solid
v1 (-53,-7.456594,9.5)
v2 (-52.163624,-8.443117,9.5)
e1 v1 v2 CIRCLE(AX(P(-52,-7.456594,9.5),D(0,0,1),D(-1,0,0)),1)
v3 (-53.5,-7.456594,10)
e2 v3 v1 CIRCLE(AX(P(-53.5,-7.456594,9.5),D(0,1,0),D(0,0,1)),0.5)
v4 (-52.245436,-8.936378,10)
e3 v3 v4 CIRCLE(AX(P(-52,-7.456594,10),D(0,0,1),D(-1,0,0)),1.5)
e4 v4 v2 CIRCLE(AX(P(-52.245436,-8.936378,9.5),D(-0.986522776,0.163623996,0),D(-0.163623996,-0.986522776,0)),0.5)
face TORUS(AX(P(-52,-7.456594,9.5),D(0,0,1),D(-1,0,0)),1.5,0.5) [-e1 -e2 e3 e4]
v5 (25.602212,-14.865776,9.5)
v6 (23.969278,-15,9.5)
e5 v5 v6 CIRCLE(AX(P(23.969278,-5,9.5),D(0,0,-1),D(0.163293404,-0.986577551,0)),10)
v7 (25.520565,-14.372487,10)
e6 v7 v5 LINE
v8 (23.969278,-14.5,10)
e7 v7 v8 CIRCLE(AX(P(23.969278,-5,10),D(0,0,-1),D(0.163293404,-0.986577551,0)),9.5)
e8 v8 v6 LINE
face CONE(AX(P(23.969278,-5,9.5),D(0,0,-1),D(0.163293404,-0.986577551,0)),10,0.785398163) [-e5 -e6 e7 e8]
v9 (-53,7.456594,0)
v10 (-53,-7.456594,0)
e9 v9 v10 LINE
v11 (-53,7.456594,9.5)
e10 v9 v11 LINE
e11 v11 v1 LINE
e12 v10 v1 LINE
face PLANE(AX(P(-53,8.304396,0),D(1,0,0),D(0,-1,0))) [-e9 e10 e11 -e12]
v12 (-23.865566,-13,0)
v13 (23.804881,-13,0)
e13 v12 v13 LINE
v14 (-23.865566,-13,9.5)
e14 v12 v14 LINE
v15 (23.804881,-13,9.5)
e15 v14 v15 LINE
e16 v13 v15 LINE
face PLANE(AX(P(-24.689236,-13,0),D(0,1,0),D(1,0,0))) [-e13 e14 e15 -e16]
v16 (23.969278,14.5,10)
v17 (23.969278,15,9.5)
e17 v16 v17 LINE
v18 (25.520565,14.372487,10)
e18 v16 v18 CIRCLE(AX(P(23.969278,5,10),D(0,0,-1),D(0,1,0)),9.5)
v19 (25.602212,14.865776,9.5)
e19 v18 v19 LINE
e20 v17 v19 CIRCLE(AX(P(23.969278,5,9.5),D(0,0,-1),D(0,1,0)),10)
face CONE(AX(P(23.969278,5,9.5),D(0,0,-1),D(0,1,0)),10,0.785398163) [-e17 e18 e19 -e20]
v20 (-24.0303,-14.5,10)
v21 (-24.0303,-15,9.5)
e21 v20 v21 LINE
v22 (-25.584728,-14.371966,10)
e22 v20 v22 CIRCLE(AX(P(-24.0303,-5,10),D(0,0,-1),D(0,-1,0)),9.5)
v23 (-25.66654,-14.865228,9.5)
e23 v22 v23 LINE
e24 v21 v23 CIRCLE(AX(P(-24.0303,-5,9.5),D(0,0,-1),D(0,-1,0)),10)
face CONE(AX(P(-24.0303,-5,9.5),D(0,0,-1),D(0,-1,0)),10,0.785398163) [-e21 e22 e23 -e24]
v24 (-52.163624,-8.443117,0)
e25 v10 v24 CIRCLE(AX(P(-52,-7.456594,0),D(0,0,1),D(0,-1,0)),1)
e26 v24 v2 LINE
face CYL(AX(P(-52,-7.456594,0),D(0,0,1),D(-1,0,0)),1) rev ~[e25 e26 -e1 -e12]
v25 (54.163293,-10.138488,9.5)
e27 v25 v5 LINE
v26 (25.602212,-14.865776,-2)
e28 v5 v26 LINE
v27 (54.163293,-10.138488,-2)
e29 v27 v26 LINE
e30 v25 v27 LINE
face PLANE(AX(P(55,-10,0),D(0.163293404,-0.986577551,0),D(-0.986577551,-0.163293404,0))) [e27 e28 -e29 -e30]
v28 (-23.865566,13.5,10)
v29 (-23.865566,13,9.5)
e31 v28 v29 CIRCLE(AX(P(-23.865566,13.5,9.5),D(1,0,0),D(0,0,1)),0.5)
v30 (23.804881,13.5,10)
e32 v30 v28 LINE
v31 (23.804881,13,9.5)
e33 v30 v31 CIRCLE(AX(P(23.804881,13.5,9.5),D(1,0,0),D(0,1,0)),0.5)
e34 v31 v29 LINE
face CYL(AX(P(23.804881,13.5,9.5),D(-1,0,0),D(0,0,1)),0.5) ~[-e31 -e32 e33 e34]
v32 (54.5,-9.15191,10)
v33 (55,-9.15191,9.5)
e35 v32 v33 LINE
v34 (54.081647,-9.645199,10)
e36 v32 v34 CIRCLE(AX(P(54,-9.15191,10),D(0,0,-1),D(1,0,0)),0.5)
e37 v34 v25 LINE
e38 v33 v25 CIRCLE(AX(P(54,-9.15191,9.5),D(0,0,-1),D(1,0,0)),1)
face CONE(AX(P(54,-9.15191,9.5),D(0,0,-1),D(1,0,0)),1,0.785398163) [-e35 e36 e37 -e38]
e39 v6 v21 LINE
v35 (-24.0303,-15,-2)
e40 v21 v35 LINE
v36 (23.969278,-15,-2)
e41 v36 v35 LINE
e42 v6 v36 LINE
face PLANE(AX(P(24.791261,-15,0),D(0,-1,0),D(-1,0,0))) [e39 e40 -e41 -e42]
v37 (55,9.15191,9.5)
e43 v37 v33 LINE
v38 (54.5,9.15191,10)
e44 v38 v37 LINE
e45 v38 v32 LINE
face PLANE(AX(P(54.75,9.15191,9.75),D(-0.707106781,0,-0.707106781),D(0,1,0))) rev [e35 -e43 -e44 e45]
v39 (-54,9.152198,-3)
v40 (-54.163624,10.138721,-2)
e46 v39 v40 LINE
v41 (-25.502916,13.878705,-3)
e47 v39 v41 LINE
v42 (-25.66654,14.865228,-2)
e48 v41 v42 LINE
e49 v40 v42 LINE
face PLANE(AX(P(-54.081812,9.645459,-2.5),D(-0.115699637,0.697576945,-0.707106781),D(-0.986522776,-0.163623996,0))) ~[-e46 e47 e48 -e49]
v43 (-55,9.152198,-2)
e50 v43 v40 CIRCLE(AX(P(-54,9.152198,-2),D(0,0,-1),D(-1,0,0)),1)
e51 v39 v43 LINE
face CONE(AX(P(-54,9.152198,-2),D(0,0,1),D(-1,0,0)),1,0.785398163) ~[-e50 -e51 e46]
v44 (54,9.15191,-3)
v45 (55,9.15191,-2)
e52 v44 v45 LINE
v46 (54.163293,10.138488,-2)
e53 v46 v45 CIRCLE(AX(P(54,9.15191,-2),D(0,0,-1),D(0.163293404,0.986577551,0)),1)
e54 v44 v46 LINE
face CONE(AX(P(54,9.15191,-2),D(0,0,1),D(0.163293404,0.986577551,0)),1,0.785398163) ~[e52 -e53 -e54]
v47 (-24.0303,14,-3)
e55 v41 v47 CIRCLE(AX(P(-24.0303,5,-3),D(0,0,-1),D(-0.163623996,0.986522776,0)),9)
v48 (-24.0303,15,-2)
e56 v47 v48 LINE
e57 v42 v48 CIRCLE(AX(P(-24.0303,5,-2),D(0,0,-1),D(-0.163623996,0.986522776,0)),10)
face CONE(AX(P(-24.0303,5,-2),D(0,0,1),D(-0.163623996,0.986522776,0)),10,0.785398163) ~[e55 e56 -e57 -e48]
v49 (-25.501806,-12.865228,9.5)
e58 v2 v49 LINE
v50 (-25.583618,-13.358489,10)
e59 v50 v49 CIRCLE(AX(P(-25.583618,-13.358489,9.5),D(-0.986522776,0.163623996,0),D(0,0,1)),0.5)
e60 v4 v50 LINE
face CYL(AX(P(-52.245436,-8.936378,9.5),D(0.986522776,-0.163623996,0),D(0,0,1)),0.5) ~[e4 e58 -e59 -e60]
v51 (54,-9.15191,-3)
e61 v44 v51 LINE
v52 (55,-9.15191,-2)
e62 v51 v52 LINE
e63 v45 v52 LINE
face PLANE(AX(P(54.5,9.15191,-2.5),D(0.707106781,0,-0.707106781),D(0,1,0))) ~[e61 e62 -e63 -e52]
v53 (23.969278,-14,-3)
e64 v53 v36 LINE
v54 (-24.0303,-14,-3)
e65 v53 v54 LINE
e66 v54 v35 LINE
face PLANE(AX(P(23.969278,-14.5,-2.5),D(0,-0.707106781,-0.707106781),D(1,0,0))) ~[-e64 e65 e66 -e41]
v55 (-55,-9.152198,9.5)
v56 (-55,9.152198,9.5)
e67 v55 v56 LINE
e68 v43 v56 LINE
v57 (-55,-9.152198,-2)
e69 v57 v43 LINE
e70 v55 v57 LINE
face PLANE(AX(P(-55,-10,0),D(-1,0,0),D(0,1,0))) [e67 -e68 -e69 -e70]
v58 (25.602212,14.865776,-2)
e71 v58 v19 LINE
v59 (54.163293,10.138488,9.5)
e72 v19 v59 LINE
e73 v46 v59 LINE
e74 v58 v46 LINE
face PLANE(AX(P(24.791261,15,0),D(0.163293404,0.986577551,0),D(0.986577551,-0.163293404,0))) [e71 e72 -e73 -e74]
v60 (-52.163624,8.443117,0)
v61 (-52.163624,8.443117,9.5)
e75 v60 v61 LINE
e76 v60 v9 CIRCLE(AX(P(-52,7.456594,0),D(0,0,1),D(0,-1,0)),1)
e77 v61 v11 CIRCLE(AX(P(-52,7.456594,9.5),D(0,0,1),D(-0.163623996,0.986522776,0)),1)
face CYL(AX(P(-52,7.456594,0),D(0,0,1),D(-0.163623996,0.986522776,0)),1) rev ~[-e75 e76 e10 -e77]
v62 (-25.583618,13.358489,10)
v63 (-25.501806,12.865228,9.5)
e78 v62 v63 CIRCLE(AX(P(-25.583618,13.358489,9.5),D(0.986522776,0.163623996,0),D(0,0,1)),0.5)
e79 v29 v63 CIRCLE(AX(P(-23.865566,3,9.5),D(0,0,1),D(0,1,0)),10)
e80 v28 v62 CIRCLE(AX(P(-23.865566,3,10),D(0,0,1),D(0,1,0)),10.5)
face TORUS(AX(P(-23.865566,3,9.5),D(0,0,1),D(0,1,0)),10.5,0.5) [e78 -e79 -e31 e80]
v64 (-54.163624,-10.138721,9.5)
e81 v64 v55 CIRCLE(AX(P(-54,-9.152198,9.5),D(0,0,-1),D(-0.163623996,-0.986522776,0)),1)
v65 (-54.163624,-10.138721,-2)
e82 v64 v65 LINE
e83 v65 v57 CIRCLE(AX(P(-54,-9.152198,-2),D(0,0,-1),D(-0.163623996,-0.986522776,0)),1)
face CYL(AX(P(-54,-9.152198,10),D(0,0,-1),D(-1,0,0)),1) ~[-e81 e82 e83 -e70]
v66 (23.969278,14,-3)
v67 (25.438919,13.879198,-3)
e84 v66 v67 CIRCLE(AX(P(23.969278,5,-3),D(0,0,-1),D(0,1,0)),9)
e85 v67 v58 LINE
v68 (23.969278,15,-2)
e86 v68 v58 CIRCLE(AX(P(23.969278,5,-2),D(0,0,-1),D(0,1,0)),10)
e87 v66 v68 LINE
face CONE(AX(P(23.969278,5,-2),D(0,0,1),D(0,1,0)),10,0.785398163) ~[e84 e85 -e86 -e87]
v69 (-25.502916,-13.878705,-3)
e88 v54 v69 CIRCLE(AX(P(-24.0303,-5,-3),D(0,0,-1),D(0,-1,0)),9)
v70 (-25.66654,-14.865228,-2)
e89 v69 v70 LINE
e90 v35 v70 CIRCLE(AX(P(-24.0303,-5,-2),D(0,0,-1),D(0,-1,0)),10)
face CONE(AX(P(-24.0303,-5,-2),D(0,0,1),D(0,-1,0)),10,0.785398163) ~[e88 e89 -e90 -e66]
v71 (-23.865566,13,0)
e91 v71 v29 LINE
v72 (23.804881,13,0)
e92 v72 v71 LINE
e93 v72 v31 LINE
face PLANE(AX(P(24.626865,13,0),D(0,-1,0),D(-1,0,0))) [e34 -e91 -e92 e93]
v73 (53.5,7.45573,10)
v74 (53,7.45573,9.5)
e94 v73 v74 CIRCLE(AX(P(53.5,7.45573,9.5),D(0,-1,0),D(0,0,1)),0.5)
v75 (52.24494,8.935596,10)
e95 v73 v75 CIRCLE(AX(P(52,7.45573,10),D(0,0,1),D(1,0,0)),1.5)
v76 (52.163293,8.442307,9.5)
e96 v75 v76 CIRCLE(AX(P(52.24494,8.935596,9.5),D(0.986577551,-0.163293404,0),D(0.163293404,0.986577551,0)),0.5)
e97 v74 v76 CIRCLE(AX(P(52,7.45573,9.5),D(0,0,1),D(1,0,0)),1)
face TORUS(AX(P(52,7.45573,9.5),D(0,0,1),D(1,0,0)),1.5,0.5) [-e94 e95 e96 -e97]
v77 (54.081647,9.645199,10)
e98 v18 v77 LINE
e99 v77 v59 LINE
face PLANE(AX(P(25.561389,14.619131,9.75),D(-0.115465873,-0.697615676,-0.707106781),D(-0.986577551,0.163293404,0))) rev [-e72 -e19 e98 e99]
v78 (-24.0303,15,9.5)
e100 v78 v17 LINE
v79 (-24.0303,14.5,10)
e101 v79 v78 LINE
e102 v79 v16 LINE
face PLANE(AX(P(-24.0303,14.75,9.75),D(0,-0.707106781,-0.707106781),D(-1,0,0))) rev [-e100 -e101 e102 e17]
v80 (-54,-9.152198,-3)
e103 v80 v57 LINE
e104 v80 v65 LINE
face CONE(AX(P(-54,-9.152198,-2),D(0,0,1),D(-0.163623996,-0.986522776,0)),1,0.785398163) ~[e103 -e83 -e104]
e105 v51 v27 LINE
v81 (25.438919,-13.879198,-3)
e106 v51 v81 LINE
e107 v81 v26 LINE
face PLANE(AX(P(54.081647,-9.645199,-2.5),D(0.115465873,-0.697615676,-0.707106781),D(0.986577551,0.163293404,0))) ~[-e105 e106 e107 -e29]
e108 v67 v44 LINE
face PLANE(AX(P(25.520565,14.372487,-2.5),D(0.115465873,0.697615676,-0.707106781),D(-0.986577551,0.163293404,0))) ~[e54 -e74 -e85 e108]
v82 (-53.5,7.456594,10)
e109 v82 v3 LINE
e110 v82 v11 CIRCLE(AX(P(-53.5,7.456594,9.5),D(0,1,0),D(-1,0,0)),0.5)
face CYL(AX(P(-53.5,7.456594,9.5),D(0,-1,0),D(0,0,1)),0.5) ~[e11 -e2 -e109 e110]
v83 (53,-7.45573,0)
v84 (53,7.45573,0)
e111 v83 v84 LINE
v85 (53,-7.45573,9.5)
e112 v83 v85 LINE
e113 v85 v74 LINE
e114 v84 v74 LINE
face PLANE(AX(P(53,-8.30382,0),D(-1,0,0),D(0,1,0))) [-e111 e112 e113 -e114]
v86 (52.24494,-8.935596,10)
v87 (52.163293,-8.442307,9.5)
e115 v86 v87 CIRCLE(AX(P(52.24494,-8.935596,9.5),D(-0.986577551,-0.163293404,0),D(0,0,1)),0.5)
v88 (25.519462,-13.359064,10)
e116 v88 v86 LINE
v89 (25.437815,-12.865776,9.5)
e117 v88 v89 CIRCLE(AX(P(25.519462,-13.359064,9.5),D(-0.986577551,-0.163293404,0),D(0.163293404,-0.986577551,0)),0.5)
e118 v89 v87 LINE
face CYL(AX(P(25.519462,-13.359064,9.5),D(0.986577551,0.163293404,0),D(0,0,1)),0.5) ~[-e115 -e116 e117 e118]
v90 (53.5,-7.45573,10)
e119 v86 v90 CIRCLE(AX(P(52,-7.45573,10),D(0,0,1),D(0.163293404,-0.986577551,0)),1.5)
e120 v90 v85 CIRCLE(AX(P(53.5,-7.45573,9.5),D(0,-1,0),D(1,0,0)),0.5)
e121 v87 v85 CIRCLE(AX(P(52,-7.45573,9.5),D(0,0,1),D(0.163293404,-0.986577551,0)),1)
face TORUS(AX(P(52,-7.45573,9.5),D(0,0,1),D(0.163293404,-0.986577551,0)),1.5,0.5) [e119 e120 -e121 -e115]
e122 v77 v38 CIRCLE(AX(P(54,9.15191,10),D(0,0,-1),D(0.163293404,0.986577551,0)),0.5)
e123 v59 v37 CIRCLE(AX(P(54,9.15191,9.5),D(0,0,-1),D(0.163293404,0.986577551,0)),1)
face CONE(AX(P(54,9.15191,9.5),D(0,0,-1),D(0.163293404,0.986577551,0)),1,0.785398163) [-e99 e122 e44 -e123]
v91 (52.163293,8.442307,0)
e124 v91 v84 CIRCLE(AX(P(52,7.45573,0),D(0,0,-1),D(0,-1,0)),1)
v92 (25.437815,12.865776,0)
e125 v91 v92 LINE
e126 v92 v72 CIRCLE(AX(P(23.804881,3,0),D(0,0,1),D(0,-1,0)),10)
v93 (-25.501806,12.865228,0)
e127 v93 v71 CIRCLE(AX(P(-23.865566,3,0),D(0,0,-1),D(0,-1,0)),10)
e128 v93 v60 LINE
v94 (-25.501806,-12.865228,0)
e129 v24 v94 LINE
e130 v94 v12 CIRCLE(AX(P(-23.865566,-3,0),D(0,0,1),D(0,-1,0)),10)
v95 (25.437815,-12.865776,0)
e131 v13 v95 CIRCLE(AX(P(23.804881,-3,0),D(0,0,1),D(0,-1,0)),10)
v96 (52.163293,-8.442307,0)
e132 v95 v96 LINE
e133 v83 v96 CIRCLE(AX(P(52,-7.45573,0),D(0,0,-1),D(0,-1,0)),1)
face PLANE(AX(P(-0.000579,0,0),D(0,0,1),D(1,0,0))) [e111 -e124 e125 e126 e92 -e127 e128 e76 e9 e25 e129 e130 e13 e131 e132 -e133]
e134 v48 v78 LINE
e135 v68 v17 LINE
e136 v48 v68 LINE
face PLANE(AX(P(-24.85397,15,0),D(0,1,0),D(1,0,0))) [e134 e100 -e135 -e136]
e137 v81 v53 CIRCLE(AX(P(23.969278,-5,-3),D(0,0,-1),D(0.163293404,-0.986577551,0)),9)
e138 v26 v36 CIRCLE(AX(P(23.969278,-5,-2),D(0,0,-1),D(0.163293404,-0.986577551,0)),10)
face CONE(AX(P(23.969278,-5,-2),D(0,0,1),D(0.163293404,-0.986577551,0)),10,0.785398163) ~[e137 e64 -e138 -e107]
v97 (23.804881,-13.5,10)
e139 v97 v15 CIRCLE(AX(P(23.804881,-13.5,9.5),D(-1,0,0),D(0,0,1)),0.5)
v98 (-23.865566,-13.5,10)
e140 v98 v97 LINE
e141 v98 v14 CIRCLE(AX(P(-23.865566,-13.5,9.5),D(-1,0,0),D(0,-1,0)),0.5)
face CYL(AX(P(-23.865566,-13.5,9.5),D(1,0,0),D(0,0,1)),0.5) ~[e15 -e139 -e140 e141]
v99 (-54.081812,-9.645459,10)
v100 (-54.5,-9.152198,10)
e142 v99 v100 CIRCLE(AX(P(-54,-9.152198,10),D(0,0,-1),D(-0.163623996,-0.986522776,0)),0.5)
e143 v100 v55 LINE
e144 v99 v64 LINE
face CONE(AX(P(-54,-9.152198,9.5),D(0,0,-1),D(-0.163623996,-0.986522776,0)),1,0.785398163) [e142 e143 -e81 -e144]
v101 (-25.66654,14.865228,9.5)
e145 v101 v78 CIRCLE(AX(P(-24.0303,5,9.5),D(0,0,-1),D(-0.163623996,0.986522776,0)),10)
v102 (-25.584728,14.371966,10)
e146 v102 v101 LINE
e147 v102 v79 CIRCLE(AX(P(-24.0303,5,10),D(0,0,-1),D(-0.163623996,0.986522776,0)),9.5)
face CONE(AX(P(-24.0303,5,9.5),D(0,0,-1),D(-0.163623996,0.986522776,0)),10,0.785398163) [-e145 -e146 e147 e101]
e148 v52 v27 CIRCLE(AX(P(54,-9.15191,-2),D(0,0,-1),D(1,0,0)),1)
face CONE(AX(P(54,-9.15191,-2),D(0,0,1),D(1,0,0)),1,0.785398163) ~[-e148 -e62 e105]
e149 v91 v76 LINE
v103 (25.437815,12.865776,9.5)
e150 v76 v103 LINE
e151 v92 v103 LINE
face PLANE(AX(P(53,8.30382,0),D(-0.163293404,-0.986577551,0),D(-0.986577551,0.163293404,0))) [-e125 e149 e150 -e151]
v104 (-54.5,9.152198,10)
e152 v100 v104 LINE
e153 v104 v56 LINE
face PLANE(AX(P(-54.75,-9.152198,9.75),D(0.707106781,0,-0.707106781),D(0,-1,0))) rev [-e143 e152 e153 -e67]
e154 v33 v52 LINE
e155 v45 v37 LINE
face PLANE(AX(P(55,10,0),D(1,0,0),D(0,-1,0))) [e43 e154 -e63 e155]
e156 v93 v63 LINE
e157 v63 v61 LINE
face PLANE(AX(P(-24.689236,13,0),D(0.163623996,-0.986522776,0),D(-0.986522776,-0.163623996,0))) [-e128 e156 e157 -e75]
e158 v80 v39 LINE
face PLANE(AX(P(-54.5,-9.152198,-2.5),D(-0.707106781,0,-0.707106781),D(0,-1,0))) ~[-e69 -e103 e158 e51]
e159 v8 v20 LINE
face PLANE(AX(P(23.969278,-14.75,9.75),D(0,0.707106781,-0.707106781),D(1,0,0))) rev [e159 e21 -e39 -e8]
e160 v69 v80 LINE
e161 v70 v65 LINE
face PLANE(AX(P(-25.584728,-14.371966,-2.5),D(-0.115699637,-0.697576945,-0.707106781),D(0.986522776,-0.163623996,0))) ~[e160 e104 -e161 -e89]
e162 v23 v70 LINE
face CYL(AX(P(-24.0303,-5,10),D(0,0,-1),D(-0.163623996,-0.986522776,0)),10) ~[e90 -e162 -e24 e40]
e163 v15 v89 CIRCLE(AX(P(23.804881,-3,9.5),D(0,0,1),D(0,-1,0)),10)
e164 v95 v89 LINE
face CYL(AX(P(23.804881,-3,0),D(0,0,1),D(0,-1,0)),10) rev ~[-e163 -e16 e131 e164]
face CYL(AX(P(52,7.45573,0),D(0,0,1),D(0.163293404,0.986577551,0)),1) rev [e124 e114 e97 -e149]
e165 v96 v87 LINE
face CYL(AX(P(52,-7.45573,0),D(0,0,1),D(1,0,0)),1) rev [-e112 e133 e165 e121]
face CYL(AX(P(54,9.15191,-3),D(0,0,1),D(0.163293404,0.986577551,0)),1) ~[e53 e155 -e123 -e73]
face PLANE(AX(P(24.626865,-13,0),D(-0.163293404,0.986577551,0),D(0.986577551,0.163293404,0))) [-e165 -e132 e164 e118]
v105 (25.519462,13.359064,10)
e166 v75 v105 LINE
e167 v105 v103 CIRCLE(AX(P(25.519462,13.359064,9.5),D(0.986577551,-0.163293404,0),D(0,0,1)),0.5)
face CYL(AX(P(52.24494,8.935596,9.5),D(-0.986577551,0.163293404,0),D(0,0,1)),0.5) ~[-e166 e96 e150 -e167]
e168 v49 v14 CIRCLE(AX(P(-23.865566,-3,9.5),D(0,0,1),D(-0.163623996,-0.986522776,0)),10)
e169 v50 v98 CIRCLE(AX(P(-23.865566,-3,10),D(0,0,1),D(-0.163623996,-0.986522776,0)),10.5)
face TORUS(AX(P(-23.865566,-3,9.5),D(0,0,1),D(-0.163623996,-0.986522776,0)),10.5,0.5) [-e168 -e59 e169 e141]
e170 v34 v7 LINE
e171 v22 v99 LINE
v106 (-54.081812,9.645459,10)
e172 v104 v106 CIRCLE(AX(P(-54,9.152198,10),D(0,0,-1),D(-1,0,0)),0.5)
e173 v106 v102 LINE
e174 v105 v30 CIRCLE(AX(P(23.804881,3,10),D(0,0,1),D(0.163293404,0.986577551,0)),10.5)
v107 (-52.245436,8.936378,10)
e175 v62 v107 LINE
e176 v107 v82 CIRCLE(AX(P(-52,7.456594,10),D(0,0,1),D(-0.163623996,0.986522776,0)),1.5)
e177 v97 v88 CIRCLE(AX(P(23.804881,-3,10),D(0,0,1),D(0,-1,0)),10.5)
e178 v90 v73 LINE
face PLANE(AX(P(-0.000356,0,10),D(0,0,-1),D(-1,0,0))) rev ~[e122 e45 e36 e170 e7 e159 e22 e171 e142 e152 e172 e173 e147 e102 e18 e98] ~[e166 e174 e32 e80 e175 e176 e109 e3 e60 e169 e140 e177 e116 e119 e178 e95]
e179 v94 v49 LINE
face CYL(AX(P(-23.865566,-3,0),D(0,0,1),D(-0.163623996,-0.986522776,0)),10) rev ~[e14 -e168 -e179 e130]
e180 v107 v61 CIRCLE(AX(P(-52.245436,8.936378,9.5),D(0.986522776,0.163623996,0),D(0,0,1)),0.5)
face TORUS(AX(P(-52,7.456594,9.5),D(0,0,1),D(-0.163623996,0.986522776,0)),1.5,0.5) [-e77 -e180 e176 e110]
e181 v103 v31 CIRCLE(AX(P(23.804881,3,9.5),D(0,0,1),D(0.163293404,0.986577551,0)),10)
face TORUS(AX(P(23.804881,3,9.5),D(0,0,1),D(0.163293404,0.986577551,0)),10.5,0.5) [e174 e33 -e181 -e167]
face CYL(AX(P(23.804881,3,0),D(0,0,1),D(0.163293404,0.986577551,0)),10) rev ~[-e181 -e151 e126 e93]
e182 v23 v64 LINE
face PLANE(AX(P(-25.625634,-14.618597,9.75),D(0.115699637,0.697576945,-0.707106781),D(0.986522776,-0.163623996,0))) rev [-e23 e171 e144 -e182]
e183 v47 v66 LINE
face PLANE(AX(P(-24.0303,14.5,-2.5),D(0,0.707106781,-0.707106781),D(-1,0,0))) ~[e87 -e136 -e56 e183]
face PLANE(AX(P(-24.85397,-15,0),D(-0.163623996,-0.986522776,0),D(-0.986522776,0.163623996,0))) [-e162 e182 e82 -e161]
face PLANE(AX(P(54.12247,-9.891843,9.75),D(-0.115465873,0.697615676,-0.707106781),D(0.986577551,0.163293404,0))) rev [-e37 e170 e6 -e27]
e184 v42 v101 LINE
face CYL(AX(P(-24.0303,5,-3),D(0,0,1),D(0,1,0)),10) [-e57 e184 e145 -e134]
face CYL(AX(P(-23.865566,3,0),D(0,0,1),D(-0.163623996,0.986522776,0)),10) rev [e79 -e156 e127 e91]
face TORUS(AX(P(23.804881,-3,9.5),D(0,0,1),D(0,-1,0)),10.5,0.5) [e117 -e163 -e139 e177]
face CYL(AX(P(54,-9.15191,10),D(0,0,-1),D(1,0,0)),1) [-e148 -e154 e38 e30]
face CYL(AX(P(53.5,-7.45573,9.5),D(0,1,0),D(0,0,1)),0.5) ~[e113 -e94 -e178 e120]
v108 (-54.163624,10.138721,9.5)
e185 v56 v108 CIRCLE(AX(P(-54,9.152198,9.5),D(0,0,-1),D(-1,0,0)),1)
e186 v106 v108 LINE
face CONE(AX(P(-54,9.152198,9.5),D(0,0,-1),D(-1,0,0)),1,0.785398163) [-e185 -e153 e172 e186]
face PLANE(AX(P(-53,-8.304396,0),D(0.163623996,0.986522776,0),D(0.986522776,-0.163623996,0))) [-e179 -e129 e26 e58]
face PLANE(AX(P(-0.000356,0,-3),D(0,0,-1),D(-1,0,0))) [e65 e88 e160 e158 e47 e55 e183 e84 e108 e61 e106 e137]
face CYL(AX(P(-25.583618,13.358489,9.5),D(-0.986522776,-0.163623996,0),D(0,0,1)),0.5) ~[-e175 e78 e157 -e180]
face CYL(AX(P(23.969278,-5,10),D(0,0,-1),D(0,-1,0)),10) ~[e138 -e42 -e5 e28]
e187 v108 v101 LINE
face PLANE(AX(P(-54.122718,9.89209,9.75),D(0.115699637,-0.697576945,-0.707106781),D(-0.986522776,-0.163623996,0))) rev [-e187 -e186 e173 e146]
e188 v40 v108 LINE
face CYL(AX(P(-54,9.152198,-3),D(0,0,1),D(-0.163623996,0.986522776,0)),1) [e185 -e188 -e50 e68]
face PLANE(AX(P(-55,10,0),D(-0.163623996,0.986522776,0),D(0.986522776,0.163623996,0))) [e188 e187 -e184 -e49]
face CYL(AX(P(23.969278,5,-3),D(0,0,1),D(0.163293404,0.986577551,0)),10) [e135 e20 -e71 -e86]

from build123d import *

# Parameters (mm, degrees)
BOSS_EXTRUDE1_DEPTH = 3
BOSS_EXTRUDE2_DEPTH = 3
BOSS_EXTRUDE3_DEPTH = 10
FILLET1_R           = 10
FILLET2_R           = 1
CHAMFER1_SIZE       = 1
CHAMFER2_SIZE       = 0.5
FILLET4_R           = 0.5


with BuildPart() as part:
    # Sketch1 → Boss-Extrude1 (new body)
    with BuildSketch(Plane.XY):
        Polygon((24.791261432, 15), (-24.85397009, 15), (-55, 10), (-55, -10), (-24.85397009, -15), (24.791261432, -15), (55, -10), (55, 10), align=None)
        Polygon((-53, 8.304395957), (-24.689236015, 13), (24.626864724, 13), (53, 8.303819918), (53, -8.303819918), (24.626864724, -13), (-24.689236015, -13), (-53, -8.304395957), align=None, mode=Mode.SUBTRACT)
    extrude(amount=-BOSS_EXTRUDE1_DEPTH)

    # Sketch3 → Boss-Extrude2 (add)
    with BuildSketch(Plane.XY):
        Polygon((-53, 8.304395957), (-53, -8.304395957), (-24.689236015, -13), (24.626864724, -13), (53, -8.303819918), (53, 8.303819918), (24.626864724, 13), (-24.689236015, 13), align=None)
    extrude(amount=-BOSS_EXTRUDE2_DEPTH)

    # Sketch1<4> → Boss-Extrude3 (add)
    with BuildSketch(Plane.XY):
        Polygon((24.791261432, 15), (-24.85397009, 15), (-55, 10), (-55, -10), (-24.85397009, -15), (24.791261432, -15), (55, -10), (55, 10), align=None)
        Polygon((-53, 8.304395957), (-24.689236015, 13), (24.626864724, 13), (53, 8.303819918), (53, -8.303819918), (24.626864724, -13), (-24.689236015, -13), (-53, -8.304395957), align=None, mode=Mode.SUBTRACT)
    extrude(amount=BOSS_EXTRUDE3_DEPTH)

    # Fillet1
    fillet1_edges = [part.edges().sort_by_distance(p)[0] for p in [
        (24.791261432, -15, 3.5),
        (24.626864724, -13, 5),
        (24.791261432, 15, 3.5),
        (24.626864724, 13, 5),
        (-24.689236015, 13, 5),
        (-24.85397009, 15, 3.5),
        (-24.689236015, -13, 5),
        (-24.85397009, -15, 3.5),
    ]]
    fillet(fillet1_edges, radius=FILLET1_R)

    # Fillet2
    fillet2_edges = [part.edges().sort_by_distance(p)[0] for p in [
        (55, 10, 3.5),
        (55, -10, 3.5),
        (53, -8.303819918, 5),
        (53, 8.303819918, 5),
        (-53, 8.304395957, 5),
        (-55, 10, 3.5),
        (-53, -8.304395957, 5),
        (-55, -10, 3.5),
    ]]
    fillet(fillet2_edges, radius=FILLET2_R)

    # Chamfer1
    chamfer1_edges = [part.edges().sort_by_distance(p)[0] for p in [
        (24.78849853, 14.966387387, -3),
        (-0.03051091, 15, -3),
        (-24.851190202, 14.966249987, -3),
        (-39.915081836, 12.501974258, -3),
        (-54.762766018, 9.79887255, -3),
        (-55, 0, -3),
        (-54.762766018, -9.79887255, -3),
        (-39.915081836, -12.501974258, -3),
        (-24.851190202, -14.966249987, -3),
        (-0.03051091, -15, -3),
        (24.78849853, -14.966387387, -3),
        (39.88275267, -12.50213151, -3),
        (54.762657657, -9.798712323, -3),
        (55, 0, -3),
        (54.762657657, 9.798712323, -3),
        (39.88275267, 12.50213151, -3),
    ]]
    chamfer(chamfer1_edges, length=CHAMFER1_SIZE)

    # Chamfer2
    chamfer2_edges = [part.edges().sort_by_distance(p)[0] for p in [
        (-54.762766018, -9.79887255, 10),
        (-39.915081836, -12.501974258, 10),
        (-55, 0, 10),
        (-24.851190202, -14.966249987, 10),
        (-54.762766018, 9.79887255, 10),
        (-0.03051091, -15, 10),
        (-39.915081836, 12.501974258, 10),
        (24.78849853, -14.966387387, 10),
        (-24.851190202, 14.966249987, 10),
        (39.88275267, -12.50213151, 10),
        (-0.03051091, 15, 10),
        (54.762657657, -9.798712323, 10),
        (24.78849853, 14.966387387, 10),
        (55, 0, 10),
        (54.762657657, 9.798712323, 10),
        (39.88275267, 12.50213151, 10),
    ]]
    chamfer(chamfer2_edges, length=CHAMFER2_SIZE)

    # Fillet4
    fillet4_edges = [part.edges().sort_by_distance(p)[0] for p in [
        (-24.686456127, 12.966249987, 10),
        (-38.832714799, 10.654172237, 10),
        (-52.762766018, 8.103268507, 10),
        (-53, 0, 10),
        (-52.762766018, -8.103268507, 10),
        (-38.832714799, -10.654172237, 10),
        (-24.686456127, -12.966249987, 10),
        (-0.030342226, -13, 10),
        (24.624101823, -12.966387387, 10),
        (38.800554316, -10.654041469, 10),
        (52.762657657, -8.10253224, 10),
        (53, 0, 10),
        (52.762657657, 8.10253224, 10),
        (38.800554316, 10.654041469, 10),
        (24.624101823, 12.966387387, 10),
        (-0.030342226, 13, 10),
    ]]
    fillet(fillet4_edges, radius=FILLET4_R)


solid = part.part
